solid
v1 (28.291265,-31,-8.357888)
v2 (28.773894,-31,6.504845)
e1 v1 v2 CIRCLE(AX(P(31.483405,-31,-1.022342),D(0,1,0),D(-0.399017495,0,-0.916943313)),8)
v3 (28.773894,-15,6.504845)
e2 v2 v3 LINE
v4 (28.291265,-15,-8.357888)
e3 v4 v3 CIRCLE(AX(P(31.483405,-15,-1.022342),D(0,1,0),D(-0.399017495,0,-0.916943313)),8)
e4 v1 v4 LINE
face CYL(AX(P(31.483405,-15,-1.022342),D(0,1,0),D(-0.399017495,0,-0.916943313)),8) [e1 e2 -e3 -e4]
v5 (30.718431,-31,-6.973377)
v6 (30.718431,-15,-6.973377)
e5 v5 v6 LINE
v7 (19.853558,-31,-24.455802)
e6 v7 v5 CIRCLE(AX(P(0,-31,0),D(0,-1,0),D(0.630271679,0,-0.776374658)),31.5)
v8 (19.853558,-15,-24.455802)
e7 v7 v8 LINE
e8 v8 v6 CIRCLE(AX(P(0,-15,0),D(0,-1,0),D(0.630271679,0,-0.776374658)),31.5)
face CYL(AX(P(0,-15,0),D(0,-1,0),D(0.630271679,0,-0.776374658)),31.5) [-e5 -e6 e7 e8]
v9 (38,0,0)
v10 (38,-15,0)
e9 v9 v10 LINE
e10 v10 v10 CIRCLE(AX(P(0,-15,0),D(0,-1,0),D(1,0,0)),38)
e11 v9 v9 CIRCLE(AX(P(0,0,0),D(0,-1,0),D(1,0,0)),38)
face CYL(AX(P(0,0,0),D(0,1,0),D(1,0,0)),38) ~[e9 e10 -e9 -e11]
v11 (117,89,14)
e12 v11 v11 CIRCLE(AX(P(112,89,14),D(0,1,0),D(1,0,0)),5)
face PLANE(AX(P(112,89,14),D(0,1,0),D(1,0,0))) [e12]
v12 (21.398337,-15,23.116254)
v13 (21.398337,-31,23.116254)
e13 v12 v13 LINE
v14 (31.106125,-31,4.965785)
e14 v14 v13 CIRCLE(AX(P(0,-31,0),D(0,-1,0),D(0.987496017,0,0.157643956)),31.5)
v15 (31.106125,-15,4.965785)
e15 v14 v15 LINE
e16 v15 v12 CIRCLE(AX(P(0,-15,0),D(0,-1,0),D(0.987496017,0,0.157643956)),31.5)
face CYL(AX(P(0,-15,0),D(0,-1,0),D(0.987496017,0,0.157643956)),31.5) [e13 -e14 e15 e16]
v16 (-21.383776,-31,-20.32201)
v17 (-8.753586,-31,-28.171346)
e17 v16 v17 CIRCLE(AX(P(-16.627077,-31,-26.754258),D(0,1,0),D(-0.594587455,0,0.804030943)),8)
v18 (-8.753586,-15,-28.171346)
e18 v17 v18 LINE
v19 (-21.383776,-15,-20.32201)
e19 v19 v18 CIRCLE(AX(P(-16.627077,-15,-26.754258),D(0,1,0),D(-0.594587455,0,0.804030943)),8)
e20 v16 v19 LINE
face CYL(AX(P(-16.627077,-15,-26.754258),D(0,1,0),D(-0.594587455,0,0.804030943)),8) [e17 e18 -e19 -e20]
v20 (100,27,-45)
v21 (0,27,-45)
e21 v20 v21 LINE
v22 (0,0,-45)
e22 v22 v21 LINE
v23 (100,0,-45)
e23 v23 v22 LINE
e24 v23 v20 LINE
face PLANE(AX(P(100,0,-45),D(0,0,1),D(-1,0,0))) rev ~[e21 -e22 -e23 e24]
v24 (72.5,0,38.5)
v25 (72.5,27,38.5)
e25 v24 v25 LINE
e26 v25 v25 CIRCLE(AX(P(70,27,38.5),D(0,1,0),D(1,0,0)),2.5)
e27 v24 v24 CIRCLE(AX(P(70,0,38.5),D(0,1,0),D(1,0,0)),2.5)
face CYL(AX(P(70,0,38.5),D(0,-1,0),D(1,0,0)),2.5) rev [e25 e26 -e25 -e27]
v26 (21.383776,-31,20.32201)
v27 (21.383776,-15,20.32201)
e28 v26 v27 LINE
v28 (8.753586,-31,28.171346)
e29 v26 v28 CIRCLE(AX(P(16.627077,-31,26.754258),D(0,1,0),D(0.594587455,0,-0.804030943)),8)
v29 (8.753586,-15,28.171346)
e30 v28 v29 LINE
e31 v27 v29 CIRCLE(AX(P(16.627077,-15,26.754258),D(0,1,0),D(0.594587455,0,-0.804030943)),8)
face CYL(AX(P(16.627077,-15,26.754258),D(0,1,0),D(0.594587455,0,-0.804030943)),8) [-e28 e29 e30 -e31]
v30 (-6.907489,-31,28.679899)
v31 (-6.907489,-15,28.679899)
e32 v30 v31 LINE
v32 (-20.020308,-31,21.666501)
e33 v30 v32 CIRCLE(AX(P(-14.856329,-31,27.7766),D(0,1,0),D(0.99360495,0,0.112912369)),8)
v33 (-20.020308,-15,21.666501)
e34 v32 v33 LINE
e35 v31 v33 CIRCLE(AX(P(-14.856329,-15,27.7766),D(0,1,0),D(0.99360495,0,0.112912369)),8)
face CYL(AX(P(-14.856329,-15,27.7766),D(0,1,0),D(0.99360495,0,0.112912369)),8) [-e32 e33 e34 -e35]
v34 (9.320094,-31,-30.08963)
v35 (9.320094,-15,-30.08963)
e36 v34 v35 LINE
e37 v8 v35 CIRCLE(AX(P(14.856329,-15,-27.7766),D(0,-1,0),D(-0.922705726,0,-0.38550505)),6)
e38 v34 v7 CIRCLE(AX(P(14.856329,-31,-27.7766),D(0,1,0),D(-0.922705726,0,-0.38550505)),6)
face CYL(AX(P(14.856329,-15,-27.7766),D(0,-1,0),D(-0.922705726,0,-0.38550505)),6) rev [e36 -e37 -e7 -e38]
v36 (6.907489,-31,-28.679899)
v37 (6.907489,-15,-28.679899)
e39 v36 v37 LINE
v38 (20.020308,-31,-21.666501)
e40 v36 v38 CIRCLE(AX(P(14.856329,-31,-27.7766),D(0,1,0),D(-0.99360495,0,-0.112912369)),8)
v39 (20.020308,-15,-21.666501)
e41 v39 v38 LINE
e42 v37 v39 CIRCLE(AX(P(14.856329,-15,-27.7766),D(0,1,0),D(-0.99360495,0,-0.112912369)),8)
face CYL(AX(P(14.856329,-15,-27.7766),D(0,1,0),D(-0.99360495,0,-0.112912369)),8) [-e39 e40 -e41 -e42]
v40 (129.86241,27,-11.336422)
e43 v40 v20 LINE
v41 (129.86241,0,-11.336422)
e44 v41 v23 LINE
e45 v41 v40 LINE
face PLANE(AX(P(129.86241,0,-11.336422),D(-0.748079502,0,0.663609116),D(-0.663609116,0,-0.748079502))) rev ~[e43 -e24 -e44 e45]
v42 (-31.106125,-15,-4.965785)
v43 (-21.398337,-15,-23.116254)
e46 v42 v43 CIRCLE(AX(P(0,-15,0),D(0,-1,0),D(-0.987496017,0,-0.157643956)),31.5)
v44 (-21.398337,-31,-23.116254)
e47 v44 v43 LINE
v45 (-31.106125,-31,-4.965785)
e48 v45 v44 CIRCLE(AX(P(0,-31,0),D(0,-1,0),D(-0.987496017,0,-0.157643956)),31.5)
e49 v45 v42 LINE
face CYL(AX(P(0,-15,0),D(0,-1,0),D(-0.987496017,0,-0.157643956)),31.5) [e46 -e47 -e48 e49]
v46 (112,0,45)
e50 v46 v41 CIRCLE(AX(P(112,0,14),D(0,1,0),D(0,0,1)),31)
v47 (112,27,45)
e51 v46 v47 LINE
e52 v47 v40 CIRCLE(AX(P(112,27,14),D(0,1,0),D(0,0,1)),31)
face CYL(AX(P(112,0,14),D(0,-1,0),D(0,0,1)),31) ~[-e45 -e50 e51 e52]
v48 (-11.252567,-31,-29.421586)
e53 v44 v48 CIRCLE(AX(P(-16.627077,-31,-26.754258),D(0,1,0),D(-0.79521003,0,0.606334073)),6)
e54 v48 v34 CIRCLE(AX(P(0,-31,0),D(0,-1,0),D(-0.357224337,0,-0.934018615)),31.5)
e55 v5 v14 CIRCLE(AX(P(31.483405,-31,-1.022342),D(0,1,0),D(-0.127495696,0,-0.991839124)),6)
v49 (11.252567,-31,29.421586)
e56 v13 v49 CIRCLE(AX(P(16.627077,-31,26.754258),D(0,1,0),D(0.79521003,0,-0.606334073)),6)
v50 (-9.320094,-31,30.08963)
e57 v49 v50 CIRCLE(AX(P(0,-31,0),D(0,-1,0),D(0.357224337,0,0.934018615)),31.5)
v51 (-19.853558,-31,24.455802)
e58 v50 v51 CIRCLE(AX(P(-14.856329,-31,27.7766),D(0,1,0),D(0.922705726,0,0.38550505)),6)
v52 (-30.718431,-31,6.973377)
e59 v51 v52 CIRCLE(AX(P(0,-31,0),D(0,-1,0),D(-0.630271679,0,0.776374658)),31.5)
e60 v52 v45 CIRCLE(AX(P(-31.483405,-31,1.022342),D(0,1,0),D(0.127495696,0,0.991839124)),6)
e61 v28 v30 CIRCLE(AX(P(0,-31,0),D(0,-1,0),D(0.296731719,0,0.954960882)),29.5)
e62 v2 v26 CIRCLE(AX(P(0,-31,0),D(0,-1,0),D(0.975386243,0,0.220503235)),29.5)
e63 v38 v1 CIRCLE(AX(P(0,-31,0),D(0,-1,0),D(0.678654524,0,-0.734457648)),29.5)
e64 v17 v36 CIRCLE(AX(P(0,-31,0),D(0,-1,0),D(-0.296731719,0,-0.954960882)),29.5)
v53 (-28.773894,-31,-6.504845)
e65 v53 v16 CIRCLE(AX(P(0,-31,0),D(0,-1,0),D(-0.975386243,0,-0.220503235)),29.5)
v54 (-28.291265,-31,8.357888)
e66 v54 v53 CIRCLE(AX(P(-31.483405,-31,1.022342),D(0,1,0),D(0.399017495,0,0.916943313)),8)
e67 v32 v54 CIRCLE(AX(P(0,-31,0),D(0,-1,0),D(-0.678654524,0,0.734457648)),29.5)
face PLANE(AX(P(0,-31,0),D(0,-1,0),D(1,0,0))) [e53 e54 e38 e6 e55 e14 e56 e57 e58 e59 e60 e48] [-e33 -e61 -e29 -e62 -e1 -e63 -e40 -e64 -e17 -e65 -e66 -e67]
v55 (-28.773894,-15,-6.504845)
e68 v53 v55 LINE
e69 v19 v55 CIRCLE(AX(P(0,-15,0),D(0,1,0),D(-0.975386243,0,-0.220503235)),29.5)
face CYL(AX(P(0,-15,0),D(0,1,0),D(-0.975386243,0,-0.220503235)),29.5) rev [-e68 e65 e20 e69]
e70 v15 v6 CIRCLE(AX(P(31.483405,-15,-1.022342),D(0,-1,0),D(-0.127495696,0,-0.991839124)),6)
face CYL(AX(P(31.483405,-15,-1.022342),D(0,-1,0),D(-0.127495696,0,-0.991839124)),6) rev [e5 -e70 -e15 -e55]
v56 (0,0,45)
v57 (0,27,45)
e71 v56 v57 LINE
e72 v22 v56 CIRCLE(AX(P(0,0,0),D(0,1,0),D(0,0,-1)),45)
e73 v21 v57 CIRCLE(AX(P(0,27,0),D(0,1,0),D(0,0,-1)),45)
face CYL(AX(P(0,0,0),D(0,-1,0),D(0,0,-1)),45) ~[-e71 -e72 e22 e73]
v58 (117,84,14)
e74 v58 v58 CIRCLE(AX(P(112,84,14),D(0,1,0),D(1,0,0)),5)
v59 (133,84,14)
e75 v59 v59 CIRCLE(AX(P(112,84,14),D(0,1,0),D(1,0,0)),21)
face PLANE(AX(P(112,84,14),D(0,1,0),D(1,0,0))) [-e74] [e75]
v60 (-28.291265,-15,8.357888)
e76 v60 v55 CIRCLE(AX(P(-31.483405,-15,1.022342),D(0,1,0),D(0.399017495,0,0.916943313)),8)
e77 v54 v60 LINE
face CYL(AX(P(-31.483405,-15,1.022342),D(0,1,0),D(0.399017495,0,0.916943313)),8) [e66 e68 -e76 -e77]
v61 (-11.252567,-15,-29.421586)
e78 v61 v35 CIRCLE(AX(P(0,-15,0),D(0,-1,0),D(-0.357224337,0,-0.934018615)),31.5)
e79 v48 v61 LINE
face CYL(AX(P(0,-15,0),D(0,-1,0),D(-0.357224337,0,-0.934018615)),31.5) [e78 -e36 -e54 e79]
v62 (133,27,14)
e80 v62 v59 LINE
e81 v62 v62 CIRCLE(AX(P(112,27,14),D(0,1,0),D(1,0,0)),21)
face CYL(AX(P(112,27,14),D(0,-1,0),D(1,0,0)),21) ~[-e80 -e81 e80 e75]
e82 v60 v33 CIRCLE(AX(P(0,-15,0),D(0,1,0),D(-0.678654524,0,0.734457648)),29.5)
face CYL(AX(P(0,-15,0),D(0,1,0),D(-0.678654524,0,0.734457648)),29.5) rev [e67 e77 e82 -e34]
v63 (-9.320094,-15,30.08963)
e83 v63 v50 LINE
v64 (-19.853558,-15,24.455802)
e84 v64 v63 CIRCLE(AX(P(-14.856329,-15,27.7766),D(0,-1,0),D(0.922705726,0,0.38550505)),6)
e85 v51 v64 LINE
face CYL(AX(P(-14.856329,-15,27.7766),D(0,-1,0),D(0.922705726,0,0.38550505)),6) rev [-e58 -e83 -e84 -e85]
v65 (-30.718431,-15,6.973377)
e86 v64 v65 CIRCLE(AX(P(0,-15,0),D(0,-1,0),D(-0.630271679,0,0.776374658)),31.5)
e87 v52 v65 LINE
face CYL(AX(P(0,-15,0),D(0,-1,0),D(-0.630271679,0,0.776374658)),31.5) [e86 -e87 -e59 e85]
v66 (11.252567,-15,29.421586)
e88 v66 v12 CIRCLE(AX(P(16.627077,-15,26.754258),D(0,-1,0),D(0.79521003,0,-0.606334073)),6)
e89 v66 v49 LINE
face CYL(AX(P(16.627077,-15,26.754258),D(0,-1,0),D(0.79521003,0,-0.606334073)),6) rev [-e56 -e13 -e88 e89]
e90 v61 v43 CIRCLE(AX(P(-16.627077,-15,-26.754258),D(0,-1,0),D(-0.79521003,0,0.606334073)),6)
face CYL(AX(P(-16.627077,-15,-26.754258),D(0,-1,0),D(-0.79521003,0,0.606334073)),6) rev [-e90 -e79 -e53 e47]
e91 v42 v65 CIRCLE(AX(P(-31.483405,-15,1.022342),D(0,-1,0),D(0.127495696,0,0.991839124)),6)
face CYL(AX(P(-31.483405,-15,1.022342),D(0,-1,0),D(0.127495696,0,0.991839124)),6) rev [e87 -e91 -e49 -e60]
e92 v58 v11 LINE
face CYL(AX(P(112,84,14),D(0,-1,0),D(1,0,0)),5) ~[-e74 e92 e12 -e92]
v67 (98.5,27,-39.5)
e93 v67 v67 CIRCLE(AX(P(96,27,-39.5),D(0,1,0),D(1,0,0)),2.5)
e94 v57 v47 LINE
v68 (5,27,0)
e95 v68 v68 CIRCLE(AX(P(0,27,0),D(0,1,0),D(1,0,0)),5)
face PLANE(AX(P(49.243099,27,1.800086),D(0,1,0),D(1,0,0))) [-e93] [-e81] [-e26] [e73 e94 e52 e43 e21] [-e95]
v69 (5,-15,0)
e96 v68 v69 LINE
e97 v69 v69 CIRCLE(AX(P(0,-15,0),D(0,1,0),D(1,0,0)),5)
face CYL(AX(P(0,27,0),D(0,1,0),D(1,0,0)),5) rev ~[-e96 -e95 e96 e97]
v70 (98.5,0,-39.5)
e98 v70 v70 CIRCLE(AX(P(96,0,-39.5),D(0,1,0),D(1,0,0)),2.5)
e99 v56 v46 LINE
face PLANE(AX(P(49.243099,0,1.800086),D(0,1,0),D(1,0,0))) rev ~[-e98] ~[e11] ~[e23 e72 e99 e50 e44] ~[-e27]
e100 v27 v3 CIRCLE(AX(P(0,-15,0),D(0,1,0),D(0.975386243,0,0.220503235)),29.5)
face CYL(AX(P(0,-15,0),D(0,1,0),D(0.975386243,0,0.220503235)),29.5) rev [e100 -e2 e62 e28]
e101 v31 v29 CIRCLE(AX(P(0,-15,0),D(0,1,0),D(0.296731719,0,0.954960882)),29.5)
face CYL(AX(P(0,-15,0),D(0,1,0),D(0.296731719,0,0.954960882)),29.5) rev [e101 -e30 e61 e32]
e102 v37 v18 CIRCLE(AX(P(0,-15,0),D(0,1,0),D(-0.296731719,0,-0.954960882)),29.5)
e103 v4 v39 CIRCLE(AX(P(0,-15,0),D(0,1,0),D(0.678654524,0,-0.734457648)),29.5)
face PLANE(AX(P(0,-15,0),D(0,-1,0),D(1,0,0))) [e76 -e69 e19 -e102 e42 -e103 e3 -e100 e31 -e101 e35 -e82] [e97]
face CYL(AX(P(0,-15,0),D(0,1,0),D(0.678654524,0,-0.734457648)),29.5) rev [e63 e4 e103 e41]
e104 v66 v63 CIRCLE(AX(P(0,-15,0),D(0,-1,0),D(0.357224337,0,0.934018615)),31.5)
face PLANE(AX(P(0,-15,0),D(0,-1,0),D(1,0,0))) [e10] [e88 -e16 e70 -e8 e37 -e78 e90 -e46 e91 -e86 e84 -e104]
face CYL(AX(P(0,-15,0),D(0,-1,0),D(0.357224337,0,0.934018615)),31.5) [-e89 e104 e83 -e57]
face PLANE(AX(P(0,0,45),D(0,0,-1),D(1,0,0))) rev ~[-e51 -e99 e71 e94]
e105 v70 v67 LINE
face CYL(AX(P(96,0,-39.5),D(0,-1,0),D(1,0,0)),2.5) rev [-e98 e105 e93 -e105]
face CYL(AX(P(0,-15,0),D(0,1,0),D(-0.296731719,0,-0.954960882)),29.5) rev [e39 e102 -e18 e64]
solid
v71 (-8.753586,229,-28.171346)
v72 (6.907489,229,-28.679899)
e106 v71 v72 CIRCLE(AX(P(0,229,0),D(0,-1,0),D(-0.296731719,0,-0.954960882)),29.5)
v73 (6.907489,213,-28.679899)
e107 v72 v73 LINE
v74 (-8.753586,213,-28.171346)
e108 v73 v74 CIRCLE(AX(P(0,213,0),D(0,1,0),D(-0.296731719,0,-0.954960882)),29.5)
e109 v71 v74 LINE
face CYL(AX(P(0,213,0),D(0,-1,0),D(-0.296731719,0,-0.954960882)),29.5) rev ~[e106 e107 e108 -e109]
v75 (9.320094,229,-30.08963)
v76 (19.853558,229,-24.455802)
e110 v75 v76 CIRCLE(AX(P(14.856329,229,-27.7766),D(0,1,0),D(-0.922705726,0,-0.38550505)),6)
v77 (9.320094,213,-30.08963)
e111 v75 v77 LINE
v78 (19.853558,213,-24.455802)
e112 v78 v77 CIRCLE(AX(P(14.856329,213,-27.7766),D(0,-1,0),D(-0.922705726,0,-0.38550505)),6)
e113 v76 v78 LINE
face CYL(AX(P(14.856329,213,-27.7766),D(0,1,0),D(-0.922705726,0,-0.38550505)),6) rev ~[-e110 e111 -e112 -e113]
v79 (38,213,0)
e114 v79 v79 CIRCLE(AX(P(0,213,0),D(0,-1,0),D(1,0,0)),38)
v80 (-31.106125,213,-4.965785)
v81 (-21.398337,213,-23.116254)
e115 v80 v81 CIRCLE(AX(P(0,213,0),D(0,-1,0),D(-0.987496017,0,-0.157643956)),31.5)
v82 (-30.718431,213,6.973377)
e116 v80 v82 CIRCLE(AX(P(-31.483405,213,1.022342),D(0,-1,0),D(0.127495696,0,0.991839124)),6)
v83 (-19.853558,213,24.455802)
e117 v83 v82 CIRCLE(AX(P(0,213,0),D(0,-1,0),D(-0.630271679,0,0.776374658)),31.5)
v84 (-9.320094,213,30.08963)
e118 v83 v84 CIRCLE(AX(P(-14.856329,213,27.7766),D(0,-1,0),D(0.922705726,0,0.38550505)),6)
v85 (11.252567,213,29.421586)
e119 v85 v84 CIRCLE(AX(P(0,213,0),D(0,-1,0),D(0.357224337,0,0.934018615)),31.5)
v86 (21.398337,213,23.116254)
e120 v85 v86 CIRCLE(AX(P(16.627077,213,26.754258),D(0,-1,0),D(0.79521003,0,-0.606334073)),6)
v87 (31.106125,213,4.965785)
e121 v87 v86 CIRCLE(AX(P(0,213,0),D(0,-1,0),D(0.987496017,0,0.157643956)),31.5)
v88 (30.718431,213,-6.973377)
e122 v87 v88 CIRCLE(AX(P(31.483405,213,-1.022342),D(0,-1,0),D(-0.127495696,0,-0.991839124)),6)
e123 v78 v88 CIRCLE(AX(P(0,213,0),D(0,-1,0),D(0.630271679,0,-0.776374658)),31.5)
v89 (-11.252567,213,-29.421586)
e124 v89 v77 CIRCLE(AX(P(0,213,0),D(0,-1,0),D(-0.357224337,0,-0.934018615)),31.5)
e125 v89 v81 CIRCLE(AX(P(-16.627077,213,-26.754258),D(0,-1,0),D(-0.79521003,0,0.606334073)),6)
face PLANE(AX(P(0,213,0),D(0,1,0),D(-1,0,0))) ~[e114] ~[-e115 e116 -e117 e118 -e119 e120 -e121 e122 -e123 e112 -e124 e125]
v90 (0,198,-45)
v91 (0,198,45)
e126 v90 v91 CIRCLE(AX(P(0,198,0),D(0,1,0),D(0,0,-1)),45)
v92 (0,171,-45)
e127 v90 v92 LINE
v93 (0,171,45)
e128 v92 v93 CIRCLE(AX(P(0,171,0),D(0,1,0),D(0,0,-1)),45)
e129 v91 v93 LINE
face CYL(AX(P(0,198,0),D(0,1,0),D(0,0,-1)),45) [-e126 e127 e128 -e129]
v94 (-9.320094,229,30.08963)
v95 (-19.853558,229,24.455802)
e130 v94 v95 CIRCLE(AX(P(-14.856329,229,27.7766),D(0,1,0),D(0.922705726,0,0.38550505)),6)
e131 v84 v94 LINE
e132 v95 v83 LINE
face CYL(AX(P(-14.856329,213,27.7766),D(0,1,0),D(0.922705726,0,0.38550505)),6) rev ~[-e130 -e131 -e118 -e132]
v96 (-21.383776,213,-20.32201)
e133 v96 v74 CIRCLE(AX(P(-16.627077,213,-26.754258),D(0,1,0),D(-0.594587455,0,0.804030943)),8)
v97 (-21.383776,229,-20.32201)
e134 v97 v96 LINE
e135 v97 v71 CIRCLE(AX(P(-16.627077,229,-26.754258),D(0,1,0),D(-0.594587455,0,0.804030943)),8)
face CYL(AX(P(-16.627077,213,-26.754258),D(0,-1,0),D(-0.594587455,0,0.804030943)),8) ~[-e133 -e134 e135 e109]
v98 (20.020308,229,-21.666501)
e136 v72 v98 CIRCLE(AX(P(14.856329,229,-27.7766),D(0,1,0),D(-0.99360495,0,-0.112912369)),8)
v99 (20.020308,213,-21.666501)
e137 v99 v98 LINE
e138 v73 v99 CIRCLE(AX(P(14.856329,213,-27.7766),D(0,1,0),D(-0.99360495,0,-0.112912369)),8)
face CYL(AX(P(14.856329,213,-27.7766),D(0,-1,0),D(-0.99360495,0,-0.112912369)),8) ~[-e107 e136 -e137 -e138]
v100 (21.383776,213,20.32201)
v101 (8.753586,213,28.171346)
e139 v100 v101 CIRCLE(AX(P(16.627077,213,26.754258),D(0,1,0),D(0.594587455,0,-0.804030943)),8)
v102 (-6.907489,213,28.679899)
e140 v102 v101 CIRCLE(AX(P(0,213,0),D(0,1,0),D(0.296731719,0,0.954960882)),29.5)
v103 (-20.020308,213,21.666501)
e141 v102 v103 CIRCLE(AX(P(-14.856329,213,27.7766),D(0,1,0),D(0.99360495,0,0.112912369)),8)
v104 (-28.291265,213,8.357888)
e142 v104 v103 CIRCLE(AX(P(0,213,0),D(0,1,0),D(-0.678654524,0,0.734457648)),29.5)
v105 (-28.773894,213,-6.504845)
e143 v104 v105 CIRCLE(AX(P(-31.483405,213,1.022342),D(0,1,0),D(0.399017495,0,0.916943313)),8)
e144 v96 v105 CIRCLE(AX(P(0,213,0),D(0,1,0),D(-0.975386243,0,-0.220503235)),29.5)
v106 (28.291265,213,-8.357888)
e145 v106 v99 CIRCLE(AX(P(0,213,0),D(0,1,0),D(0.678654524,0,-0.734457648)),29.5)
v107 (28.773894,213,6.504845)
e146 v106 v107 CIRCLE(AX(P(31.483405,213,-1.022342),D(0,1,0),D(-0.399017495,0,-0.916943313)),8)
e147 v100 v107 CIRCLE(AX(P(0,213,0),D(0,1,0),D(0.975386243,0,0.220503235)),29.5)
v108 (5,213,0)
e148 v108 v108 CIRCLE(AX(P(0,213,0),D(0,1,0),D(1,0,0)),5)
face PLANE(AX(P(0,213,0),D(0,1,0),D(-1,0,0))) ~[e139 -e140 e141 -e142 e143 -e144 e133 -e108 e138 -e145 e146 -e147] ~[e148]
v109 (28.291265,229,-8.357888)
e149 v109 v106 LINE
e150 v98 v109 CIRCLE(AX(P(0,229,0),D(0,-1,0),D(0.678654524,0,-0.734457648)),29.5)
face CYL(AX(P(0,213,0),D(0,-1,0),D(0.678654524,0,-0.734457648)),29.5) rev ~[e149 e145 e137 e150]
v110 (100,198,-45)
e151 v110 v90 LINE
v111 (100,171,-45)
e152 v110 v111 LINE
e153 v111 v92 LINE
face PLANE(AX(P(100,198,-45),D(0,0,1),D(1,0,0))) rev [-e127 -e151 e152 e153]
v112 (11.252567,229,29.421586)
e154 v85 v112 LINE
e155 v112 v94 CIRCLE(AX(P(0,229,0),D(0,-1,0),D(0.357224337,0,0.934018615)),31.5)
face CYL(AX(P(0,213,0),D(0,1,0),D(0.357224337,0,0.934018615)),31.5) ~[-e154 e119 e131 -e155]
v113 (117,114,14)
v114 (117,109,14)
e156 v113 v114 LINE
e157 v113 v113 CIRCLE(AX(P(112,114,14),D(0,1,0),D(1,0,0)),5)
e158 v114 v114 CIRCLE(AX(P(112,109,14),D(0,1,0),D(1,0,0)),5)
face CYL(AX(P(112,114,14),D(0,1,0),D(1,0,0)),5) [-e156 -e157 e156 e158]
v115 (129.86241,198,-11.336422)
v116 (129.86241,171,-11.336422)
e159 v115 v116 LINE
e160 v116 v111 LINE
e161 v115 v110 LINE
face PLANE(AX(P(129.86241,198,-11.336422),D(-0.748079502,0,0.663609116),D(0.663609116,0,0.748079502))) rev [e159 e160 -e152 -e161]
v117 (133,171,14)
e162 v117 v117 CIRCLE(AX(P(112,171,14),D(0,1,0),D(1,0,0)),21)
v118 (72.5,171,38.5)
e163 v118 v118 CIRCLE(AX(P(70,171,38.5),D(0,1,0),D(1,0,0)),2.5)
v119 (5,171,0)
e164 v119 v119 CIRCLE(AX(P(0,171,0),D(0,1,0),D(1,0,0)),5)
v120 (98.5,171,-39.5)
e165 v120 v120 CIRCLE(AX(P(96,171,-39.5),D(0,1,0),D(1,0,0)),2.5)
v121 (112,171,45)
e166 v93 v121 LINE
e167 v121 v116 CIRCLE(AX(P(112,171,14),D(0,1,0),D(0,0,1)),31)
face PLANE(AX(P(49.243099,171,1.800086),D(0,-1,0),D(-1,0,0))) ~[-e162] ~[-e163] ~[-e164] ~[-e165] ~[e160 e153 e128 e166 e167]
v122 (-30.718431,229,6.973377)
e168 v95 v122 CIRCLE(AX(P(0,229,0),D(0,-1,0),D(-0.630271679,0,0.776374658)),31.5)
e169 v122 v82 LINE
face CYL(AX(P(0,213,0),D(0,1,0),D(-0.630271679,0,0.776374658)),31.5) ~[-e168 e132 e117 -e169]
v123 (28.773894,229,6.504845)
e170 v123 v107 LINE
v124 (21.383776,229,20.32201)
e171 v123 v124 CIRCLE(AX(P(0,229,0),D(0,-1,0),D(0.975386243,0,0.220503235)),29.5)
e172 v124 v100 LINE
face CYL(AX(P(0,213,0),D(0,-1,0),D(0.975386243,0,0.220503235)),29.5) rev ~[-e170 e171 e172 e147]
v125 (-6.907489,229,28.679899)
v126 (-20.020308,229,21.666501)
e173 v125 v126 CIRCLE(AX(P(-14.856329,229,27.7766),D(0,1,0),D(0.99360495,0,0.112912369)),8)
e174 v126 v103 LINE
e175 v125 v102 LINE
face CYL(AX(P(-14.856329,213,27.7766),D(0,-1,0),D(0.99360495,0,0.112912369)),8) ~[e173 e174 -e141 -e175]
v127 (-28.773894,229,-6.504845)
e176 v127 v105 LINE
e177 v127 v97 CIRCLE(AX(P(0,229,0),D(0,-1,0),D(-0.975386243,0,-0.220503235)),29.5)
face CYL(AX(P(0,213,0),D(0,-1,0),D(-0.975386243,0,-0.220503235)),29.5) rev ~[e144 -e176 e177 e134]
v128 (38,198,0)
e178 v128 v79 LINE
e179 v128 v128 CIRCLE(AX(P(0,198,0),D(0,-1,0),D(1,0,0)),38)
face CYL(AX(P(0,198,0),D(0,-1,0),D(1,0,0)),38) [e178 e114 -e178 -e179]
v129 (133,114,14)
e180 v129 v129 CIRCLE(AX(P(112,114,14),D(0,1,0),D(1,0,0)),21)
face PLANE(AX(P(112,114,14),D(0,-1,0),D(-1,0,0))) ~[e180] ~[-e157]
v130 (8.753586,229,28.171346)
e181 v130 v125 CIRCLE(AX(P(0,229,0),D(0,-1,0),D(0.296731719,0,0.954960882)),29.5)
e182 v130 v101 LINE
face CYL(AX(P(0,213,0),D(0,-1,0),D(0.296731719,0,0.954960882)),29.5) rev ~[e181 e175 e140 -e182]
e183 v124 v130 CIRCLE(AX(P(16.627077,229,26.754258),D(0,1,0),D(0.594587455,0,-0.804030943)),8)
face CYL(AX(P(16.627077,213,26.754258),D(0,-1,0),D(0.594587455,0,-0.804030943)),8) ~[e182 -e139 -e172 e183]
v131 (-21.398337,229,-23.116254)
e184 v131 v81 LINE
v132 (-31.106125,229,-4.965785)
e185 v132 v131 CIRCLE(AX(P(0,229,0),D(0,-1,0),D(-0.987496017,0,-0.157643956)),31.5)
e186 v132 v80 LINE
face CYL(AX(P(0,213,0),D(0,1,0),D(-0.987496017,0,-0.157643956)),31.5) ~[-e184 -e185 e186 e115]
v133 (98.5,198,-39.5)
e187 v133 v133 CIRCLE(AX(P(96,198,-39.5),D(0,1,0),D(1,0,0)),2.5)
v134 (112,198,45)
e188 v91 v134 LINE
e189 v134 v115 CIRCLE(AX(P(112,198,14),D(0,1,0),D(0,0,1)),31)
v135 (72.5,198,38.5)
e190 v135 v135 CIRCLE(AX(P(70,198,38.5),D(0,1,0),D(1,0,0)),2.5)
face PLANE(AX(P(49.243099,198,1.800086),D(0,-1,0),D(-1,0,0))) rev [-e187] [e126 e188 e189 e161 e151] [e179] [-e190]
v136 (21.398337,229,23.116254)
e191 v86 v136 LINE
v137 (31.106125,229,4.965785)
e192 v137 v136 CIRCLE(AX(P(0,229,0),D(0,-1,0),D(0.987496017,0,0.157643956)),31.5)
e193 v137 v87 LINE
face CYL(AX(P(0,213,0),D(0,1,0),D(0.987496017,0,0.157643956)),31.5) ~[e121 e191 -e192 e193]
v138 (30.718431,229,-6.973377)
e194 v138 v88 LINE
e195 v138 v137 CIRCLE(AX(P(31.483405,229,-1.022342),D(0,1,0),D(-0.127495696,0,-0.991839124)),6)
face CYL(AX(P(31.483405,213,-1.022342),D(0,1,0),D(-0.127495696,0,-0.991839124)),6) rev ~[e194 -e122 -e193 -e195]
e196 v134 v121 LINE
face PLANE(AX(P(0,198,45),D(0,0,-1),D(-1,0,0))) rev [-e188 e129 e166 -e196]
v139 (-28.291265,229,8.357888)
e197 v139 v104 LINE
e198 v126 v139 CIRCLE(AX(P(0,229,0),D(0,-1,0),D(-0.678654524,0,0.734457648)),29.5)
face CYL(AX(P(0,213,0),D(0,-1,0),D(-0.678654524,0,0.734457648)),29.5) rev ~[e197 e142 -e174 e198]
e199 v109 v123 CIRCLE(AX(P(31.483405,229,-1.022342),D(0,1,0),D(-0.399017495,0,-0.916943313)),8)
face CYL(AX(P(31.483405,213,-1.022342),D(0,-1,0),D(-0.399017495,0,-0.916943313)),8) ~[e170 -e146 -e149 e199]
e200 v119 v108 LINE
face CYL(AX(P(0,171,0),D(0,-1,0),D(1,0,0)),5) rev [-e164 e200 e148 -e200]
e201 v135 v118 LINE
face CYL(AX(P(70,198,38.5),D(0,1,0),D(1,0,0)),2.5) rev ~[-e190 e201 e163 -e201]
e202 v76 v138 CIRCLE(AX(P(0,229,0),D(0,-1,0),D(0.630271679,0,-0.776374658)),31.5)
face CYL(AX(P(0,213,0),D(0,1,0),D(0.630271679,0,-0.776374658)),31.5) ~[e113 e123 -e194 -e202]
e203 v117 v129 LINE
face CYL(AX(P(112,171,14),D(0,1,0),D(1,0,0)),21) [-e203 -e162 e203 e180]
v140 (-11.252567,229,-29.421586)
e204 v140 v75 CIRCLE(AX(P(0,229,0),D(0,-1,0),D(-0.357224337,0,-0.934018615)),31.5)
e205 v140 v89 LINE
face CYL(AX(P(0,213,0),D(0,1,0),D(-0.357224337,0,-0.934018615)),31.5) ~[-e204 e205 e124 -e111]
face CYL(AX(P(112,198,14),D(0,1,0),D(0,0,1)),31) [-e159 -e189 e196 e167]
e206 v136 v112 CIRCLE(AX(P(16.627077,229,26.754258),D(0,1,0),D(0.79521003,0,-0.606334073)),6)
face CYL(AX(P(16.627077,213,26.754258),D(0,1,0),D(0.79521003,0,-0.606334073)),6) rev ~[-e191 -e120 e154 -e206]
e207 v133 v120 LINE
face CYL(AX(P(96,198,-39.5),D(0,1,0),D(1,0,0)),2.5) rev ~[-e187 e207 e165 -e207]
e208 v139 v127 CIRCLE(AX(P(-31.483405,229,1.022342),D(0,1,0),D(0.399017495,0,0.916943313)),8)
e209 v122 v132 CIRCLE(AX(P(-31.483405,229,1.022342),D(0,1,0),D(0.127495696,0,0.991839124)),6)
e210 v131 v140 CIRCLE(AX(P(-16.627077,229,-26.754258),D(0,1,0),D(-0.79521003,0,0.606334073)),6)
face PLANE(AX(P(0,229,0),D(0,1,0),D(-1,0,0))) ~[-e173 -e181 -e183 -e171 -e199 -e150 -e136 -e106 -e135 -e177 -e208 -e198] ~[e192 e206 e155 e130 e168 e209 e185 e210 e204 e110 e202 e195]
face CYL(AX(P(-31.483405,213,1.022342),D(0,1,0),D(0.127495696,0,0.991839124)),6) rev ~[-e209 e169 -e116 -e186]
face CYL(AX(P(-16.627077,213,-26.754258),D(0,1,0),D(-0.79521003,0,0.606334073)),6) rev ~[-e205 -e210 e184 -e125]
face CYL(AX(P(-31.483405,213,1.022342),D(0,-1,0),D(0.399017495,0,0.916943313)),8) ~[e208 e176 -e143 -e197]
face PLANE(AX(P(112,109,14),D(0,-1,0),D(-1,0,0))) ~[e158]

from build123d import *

# Parameters (mm, degrees)
SKETCH1_R                = 2.5
SKETCH1_R_2              = 5
BOSS_EXTRUDE1_DEPTH      = 27
SKETCH2_R                = 21
BOSS_EXTRUDE2_DEPTH      = 57
SKETCH4_R                = 38
SKETCH4_R_2              = 33
BOSS_EXTRUDE3_DEPTH      = 15
BOSS_EXTRUDE4_DEPTH      = 16
BOSS_EXTRUDE4_DEPTH_BACK = 15
SKETCH6_R                = 5
BOSS_EXTRUDE5_DEPTH      = 5
SKETCH7_R                = 33
BOSS_EXTRUDE6_DEPTH      = 15
SKETCH8_R                = 5
CUT_EXTRUDE1_DEPTH       = 65


with BuildPart() as part:
    # Sketch1 → Boss-Extrude1 (new body)
    with BuildSketch(Plane(origin=(0, 0, 0), x_dir=(1, 0, 0), z_dir=(0, 1, 0))):
        with BuildLine():
            Line((100, 45), (0, 45))
            ThreePointArc((0, 45), (-45, 0), (0, -45))
            Line((0, -45), (112, -45))
            ThreePointArc((112, -45), (141.550203848, -23.369389122), (129.862410225, 11.336422419))
            Line((129.862410225, 11.336422419), (100, 45))
        make_face()
        with Locations((70, -38.5)):
            Circle(SKETCH1_R, mode=Mode.SUBTRACT)
        with Locations((96, 39.5)):
            Circle(SKETCH1_R, mode=Mode.SUBTRACT)
        Circle(SKETCH1_R_2, mode=Mode.SUBTRACT)
    extrude(amount=BOSS_EXTRUDE1_DEPTH)

    # Sketch2 → Boss-Extrude2 (add)
    with BuildSketch(Plane(origin=(0, 27, 0), x_dir=(1, 0, 0), z_dir=(0, 1, 0))):
        with Locations((112, -14)):
            Circle(SKETCH2_R)
    extrude(amount=BOSS_EXTRUDE2_DEPTH)

    # Sketch4 → Boss-Extrude3 (add)
    with BuildSketch(Plane.XZ):
        Circle(SKETCH4_R)
        Circle(SKETCH4_R_2, mode=Mode.SUBTRACT)
    extrude(amount=BOSS_EXTRUDE3_DEPTH)

    # Sketch5 → Boss-Extrude4 (add, two sides)
    with BuildSketch(Plane.XZ.offset(15)) as boss_extrude4_sk:
        with BuildLine():
            ThreePointArc((31.106124527, 4.96578462), (27.77659984, 14.856328662), (21.39833694, 23.116253507))
            ThreePointArc((21.39833694, 23.116253507), (13.460014521, 21.658208815), (11.252566633, 29.421586364))
            ThreePointArc((11.252566633, 29.421586364), (1.022341892, 31.483405423), (-9.320094308, 30.089630142))
            ThreePointArc((-9.320094308, 30.089630142), (-12.026551774, 22.485818918), (-19.853557895, 24.455801744))
            ThreePointArc((-19.853557895, 24.455801744), (-26.754257948, 16.627076761), (-30.718431248, 6.973376635))
            ThreePointArc((-30.718431248, 6.973376635), (-25.486566295, 0.827610103), (-31.106124527, -4.96578462))
            ThreePointArc((-31.106124527, -4.96578462), (-27.77659984, -14.856328662), (-21.39833694, -23.116253507))
            ThreePointArc((-21.39833694, -23.116253507), (-13.460014521, -21.658208815), (-11.252566633, -29.421586364))
            ThreePointArc((-11.252566633, -29.421586364), (-1.022341892, -31.483405423), (9.320094308, -30.089630142))
            ThreePointArc((9.320094308, -30.089630142), (12.026551774, -22.485818918), (19.853557895, -24.455801744))
            ThreePointArc((19.853557895, -24.455801744), (26.754257948, -16.627076761), (30.718431248, -6.973376635))
            ThreePointArc((30.718431248, -6.973376635), (25.486566295, -0.827610103), (31.106124527, 4.96578462))
        make_face()
        with BuildLine():
            ThreePointArc((20.020308468, -21.666500614), (25.055574904, -15.571389348), (28.291265465, -8.357888394))
            ThreePointArc((28.291265465, -8.357888394), (23.487619919, -0.762699507), (28.773894177, 6.504845418))
            ThreePointArc((28.773894177, 6.504845418), (26.0130062, 13.913069699), (21.383776403, 20.322010401))
            ThreePointArc((21.383776403, 20.322010401), (12.404327108, 19.959525771), (8.753585708, 28.171346032))
            ThreePointArc((8.753585708, 28.171346032), (0.957431296, 29.484459047), (-6.907489061, 28.679898795))
            ThreePointArc((-6.907489061, 28.679898795), (-11.083292811, 20.722225278), (-20.020308468, 21.666500614))
            ThreePointArc((-20.020308468, 21.666500614), (-25.055574904, 15.571389348), (-28.291265465, 8.357888394))
            ThreePointArc((-28.291265465, 8.357888394), (-23.487619919, 0.762699507), (-28.773894177, -6.504845418))
            ThreePointArc((-28.773894177, -6.504845418), (-26.0130062, -13.913069699), (-21.383776403, -20.322010401))
            ThreePointArc((-21.383776403, -20.322010401), (-12.404327108, -19.959525771), (-8.753585708, -28.171346032))
            ThreePointArc((-8.753585708, -28.171346032), (-0.957431296, -29.484459047), (6.907489061, -28.679898795))
            ThreePointArc((6.907489061, -28.679898795), (11.083292811, -20.722225278), (20.020308468, -21.666500614))
        make_face(mode=Mode.SUBTRACT)
    extrude(amount=BOSS_EXTRUDE4_DEPTH)
    extrude(boss_extrude4_sk.sketch, amount=-BOSS_EXTRUDE4_DEPTH_BACK)

    # Sketch6 → Boss-Extrude5 (add)
    with BuildSketch(Plane(origin=(0, 84, 0), x_dir=(1, 0, 0), z_dir=(0, 1, 0))):
        with Locations((112, -14)):
            Circle(SKETCH6_R)
    extrude(amount=BOSS_EXTRUDE5_DEPTH)

    # Sketch7 → Boss-Extrude6 (add)
    with BuildSketch(Plane.XZ):
        Circle(SKETCH7_R)
    extrude(amount=BOSS_EXTRUDE6_DEPTH)

    # Sketch8 → Cut-Extrude1 (cut)
    with BuildSketch(Plane(origin=(0, 27, 0), x_dir=(1, 0, 0), z_dir=(0, 1, 0))):
        Circle(SKETCH8_R)
    extrude(amount=-CUT_EXTRUDE1_DEPTH, mode=Mode.SUBTRACT)


with BuildPart() as body_2:
    # Mirror2: mirrored copy
    add(part.part.mirror(Plane.ZX.offset(99)))


solid = Compound([part.part, body_2.part])
